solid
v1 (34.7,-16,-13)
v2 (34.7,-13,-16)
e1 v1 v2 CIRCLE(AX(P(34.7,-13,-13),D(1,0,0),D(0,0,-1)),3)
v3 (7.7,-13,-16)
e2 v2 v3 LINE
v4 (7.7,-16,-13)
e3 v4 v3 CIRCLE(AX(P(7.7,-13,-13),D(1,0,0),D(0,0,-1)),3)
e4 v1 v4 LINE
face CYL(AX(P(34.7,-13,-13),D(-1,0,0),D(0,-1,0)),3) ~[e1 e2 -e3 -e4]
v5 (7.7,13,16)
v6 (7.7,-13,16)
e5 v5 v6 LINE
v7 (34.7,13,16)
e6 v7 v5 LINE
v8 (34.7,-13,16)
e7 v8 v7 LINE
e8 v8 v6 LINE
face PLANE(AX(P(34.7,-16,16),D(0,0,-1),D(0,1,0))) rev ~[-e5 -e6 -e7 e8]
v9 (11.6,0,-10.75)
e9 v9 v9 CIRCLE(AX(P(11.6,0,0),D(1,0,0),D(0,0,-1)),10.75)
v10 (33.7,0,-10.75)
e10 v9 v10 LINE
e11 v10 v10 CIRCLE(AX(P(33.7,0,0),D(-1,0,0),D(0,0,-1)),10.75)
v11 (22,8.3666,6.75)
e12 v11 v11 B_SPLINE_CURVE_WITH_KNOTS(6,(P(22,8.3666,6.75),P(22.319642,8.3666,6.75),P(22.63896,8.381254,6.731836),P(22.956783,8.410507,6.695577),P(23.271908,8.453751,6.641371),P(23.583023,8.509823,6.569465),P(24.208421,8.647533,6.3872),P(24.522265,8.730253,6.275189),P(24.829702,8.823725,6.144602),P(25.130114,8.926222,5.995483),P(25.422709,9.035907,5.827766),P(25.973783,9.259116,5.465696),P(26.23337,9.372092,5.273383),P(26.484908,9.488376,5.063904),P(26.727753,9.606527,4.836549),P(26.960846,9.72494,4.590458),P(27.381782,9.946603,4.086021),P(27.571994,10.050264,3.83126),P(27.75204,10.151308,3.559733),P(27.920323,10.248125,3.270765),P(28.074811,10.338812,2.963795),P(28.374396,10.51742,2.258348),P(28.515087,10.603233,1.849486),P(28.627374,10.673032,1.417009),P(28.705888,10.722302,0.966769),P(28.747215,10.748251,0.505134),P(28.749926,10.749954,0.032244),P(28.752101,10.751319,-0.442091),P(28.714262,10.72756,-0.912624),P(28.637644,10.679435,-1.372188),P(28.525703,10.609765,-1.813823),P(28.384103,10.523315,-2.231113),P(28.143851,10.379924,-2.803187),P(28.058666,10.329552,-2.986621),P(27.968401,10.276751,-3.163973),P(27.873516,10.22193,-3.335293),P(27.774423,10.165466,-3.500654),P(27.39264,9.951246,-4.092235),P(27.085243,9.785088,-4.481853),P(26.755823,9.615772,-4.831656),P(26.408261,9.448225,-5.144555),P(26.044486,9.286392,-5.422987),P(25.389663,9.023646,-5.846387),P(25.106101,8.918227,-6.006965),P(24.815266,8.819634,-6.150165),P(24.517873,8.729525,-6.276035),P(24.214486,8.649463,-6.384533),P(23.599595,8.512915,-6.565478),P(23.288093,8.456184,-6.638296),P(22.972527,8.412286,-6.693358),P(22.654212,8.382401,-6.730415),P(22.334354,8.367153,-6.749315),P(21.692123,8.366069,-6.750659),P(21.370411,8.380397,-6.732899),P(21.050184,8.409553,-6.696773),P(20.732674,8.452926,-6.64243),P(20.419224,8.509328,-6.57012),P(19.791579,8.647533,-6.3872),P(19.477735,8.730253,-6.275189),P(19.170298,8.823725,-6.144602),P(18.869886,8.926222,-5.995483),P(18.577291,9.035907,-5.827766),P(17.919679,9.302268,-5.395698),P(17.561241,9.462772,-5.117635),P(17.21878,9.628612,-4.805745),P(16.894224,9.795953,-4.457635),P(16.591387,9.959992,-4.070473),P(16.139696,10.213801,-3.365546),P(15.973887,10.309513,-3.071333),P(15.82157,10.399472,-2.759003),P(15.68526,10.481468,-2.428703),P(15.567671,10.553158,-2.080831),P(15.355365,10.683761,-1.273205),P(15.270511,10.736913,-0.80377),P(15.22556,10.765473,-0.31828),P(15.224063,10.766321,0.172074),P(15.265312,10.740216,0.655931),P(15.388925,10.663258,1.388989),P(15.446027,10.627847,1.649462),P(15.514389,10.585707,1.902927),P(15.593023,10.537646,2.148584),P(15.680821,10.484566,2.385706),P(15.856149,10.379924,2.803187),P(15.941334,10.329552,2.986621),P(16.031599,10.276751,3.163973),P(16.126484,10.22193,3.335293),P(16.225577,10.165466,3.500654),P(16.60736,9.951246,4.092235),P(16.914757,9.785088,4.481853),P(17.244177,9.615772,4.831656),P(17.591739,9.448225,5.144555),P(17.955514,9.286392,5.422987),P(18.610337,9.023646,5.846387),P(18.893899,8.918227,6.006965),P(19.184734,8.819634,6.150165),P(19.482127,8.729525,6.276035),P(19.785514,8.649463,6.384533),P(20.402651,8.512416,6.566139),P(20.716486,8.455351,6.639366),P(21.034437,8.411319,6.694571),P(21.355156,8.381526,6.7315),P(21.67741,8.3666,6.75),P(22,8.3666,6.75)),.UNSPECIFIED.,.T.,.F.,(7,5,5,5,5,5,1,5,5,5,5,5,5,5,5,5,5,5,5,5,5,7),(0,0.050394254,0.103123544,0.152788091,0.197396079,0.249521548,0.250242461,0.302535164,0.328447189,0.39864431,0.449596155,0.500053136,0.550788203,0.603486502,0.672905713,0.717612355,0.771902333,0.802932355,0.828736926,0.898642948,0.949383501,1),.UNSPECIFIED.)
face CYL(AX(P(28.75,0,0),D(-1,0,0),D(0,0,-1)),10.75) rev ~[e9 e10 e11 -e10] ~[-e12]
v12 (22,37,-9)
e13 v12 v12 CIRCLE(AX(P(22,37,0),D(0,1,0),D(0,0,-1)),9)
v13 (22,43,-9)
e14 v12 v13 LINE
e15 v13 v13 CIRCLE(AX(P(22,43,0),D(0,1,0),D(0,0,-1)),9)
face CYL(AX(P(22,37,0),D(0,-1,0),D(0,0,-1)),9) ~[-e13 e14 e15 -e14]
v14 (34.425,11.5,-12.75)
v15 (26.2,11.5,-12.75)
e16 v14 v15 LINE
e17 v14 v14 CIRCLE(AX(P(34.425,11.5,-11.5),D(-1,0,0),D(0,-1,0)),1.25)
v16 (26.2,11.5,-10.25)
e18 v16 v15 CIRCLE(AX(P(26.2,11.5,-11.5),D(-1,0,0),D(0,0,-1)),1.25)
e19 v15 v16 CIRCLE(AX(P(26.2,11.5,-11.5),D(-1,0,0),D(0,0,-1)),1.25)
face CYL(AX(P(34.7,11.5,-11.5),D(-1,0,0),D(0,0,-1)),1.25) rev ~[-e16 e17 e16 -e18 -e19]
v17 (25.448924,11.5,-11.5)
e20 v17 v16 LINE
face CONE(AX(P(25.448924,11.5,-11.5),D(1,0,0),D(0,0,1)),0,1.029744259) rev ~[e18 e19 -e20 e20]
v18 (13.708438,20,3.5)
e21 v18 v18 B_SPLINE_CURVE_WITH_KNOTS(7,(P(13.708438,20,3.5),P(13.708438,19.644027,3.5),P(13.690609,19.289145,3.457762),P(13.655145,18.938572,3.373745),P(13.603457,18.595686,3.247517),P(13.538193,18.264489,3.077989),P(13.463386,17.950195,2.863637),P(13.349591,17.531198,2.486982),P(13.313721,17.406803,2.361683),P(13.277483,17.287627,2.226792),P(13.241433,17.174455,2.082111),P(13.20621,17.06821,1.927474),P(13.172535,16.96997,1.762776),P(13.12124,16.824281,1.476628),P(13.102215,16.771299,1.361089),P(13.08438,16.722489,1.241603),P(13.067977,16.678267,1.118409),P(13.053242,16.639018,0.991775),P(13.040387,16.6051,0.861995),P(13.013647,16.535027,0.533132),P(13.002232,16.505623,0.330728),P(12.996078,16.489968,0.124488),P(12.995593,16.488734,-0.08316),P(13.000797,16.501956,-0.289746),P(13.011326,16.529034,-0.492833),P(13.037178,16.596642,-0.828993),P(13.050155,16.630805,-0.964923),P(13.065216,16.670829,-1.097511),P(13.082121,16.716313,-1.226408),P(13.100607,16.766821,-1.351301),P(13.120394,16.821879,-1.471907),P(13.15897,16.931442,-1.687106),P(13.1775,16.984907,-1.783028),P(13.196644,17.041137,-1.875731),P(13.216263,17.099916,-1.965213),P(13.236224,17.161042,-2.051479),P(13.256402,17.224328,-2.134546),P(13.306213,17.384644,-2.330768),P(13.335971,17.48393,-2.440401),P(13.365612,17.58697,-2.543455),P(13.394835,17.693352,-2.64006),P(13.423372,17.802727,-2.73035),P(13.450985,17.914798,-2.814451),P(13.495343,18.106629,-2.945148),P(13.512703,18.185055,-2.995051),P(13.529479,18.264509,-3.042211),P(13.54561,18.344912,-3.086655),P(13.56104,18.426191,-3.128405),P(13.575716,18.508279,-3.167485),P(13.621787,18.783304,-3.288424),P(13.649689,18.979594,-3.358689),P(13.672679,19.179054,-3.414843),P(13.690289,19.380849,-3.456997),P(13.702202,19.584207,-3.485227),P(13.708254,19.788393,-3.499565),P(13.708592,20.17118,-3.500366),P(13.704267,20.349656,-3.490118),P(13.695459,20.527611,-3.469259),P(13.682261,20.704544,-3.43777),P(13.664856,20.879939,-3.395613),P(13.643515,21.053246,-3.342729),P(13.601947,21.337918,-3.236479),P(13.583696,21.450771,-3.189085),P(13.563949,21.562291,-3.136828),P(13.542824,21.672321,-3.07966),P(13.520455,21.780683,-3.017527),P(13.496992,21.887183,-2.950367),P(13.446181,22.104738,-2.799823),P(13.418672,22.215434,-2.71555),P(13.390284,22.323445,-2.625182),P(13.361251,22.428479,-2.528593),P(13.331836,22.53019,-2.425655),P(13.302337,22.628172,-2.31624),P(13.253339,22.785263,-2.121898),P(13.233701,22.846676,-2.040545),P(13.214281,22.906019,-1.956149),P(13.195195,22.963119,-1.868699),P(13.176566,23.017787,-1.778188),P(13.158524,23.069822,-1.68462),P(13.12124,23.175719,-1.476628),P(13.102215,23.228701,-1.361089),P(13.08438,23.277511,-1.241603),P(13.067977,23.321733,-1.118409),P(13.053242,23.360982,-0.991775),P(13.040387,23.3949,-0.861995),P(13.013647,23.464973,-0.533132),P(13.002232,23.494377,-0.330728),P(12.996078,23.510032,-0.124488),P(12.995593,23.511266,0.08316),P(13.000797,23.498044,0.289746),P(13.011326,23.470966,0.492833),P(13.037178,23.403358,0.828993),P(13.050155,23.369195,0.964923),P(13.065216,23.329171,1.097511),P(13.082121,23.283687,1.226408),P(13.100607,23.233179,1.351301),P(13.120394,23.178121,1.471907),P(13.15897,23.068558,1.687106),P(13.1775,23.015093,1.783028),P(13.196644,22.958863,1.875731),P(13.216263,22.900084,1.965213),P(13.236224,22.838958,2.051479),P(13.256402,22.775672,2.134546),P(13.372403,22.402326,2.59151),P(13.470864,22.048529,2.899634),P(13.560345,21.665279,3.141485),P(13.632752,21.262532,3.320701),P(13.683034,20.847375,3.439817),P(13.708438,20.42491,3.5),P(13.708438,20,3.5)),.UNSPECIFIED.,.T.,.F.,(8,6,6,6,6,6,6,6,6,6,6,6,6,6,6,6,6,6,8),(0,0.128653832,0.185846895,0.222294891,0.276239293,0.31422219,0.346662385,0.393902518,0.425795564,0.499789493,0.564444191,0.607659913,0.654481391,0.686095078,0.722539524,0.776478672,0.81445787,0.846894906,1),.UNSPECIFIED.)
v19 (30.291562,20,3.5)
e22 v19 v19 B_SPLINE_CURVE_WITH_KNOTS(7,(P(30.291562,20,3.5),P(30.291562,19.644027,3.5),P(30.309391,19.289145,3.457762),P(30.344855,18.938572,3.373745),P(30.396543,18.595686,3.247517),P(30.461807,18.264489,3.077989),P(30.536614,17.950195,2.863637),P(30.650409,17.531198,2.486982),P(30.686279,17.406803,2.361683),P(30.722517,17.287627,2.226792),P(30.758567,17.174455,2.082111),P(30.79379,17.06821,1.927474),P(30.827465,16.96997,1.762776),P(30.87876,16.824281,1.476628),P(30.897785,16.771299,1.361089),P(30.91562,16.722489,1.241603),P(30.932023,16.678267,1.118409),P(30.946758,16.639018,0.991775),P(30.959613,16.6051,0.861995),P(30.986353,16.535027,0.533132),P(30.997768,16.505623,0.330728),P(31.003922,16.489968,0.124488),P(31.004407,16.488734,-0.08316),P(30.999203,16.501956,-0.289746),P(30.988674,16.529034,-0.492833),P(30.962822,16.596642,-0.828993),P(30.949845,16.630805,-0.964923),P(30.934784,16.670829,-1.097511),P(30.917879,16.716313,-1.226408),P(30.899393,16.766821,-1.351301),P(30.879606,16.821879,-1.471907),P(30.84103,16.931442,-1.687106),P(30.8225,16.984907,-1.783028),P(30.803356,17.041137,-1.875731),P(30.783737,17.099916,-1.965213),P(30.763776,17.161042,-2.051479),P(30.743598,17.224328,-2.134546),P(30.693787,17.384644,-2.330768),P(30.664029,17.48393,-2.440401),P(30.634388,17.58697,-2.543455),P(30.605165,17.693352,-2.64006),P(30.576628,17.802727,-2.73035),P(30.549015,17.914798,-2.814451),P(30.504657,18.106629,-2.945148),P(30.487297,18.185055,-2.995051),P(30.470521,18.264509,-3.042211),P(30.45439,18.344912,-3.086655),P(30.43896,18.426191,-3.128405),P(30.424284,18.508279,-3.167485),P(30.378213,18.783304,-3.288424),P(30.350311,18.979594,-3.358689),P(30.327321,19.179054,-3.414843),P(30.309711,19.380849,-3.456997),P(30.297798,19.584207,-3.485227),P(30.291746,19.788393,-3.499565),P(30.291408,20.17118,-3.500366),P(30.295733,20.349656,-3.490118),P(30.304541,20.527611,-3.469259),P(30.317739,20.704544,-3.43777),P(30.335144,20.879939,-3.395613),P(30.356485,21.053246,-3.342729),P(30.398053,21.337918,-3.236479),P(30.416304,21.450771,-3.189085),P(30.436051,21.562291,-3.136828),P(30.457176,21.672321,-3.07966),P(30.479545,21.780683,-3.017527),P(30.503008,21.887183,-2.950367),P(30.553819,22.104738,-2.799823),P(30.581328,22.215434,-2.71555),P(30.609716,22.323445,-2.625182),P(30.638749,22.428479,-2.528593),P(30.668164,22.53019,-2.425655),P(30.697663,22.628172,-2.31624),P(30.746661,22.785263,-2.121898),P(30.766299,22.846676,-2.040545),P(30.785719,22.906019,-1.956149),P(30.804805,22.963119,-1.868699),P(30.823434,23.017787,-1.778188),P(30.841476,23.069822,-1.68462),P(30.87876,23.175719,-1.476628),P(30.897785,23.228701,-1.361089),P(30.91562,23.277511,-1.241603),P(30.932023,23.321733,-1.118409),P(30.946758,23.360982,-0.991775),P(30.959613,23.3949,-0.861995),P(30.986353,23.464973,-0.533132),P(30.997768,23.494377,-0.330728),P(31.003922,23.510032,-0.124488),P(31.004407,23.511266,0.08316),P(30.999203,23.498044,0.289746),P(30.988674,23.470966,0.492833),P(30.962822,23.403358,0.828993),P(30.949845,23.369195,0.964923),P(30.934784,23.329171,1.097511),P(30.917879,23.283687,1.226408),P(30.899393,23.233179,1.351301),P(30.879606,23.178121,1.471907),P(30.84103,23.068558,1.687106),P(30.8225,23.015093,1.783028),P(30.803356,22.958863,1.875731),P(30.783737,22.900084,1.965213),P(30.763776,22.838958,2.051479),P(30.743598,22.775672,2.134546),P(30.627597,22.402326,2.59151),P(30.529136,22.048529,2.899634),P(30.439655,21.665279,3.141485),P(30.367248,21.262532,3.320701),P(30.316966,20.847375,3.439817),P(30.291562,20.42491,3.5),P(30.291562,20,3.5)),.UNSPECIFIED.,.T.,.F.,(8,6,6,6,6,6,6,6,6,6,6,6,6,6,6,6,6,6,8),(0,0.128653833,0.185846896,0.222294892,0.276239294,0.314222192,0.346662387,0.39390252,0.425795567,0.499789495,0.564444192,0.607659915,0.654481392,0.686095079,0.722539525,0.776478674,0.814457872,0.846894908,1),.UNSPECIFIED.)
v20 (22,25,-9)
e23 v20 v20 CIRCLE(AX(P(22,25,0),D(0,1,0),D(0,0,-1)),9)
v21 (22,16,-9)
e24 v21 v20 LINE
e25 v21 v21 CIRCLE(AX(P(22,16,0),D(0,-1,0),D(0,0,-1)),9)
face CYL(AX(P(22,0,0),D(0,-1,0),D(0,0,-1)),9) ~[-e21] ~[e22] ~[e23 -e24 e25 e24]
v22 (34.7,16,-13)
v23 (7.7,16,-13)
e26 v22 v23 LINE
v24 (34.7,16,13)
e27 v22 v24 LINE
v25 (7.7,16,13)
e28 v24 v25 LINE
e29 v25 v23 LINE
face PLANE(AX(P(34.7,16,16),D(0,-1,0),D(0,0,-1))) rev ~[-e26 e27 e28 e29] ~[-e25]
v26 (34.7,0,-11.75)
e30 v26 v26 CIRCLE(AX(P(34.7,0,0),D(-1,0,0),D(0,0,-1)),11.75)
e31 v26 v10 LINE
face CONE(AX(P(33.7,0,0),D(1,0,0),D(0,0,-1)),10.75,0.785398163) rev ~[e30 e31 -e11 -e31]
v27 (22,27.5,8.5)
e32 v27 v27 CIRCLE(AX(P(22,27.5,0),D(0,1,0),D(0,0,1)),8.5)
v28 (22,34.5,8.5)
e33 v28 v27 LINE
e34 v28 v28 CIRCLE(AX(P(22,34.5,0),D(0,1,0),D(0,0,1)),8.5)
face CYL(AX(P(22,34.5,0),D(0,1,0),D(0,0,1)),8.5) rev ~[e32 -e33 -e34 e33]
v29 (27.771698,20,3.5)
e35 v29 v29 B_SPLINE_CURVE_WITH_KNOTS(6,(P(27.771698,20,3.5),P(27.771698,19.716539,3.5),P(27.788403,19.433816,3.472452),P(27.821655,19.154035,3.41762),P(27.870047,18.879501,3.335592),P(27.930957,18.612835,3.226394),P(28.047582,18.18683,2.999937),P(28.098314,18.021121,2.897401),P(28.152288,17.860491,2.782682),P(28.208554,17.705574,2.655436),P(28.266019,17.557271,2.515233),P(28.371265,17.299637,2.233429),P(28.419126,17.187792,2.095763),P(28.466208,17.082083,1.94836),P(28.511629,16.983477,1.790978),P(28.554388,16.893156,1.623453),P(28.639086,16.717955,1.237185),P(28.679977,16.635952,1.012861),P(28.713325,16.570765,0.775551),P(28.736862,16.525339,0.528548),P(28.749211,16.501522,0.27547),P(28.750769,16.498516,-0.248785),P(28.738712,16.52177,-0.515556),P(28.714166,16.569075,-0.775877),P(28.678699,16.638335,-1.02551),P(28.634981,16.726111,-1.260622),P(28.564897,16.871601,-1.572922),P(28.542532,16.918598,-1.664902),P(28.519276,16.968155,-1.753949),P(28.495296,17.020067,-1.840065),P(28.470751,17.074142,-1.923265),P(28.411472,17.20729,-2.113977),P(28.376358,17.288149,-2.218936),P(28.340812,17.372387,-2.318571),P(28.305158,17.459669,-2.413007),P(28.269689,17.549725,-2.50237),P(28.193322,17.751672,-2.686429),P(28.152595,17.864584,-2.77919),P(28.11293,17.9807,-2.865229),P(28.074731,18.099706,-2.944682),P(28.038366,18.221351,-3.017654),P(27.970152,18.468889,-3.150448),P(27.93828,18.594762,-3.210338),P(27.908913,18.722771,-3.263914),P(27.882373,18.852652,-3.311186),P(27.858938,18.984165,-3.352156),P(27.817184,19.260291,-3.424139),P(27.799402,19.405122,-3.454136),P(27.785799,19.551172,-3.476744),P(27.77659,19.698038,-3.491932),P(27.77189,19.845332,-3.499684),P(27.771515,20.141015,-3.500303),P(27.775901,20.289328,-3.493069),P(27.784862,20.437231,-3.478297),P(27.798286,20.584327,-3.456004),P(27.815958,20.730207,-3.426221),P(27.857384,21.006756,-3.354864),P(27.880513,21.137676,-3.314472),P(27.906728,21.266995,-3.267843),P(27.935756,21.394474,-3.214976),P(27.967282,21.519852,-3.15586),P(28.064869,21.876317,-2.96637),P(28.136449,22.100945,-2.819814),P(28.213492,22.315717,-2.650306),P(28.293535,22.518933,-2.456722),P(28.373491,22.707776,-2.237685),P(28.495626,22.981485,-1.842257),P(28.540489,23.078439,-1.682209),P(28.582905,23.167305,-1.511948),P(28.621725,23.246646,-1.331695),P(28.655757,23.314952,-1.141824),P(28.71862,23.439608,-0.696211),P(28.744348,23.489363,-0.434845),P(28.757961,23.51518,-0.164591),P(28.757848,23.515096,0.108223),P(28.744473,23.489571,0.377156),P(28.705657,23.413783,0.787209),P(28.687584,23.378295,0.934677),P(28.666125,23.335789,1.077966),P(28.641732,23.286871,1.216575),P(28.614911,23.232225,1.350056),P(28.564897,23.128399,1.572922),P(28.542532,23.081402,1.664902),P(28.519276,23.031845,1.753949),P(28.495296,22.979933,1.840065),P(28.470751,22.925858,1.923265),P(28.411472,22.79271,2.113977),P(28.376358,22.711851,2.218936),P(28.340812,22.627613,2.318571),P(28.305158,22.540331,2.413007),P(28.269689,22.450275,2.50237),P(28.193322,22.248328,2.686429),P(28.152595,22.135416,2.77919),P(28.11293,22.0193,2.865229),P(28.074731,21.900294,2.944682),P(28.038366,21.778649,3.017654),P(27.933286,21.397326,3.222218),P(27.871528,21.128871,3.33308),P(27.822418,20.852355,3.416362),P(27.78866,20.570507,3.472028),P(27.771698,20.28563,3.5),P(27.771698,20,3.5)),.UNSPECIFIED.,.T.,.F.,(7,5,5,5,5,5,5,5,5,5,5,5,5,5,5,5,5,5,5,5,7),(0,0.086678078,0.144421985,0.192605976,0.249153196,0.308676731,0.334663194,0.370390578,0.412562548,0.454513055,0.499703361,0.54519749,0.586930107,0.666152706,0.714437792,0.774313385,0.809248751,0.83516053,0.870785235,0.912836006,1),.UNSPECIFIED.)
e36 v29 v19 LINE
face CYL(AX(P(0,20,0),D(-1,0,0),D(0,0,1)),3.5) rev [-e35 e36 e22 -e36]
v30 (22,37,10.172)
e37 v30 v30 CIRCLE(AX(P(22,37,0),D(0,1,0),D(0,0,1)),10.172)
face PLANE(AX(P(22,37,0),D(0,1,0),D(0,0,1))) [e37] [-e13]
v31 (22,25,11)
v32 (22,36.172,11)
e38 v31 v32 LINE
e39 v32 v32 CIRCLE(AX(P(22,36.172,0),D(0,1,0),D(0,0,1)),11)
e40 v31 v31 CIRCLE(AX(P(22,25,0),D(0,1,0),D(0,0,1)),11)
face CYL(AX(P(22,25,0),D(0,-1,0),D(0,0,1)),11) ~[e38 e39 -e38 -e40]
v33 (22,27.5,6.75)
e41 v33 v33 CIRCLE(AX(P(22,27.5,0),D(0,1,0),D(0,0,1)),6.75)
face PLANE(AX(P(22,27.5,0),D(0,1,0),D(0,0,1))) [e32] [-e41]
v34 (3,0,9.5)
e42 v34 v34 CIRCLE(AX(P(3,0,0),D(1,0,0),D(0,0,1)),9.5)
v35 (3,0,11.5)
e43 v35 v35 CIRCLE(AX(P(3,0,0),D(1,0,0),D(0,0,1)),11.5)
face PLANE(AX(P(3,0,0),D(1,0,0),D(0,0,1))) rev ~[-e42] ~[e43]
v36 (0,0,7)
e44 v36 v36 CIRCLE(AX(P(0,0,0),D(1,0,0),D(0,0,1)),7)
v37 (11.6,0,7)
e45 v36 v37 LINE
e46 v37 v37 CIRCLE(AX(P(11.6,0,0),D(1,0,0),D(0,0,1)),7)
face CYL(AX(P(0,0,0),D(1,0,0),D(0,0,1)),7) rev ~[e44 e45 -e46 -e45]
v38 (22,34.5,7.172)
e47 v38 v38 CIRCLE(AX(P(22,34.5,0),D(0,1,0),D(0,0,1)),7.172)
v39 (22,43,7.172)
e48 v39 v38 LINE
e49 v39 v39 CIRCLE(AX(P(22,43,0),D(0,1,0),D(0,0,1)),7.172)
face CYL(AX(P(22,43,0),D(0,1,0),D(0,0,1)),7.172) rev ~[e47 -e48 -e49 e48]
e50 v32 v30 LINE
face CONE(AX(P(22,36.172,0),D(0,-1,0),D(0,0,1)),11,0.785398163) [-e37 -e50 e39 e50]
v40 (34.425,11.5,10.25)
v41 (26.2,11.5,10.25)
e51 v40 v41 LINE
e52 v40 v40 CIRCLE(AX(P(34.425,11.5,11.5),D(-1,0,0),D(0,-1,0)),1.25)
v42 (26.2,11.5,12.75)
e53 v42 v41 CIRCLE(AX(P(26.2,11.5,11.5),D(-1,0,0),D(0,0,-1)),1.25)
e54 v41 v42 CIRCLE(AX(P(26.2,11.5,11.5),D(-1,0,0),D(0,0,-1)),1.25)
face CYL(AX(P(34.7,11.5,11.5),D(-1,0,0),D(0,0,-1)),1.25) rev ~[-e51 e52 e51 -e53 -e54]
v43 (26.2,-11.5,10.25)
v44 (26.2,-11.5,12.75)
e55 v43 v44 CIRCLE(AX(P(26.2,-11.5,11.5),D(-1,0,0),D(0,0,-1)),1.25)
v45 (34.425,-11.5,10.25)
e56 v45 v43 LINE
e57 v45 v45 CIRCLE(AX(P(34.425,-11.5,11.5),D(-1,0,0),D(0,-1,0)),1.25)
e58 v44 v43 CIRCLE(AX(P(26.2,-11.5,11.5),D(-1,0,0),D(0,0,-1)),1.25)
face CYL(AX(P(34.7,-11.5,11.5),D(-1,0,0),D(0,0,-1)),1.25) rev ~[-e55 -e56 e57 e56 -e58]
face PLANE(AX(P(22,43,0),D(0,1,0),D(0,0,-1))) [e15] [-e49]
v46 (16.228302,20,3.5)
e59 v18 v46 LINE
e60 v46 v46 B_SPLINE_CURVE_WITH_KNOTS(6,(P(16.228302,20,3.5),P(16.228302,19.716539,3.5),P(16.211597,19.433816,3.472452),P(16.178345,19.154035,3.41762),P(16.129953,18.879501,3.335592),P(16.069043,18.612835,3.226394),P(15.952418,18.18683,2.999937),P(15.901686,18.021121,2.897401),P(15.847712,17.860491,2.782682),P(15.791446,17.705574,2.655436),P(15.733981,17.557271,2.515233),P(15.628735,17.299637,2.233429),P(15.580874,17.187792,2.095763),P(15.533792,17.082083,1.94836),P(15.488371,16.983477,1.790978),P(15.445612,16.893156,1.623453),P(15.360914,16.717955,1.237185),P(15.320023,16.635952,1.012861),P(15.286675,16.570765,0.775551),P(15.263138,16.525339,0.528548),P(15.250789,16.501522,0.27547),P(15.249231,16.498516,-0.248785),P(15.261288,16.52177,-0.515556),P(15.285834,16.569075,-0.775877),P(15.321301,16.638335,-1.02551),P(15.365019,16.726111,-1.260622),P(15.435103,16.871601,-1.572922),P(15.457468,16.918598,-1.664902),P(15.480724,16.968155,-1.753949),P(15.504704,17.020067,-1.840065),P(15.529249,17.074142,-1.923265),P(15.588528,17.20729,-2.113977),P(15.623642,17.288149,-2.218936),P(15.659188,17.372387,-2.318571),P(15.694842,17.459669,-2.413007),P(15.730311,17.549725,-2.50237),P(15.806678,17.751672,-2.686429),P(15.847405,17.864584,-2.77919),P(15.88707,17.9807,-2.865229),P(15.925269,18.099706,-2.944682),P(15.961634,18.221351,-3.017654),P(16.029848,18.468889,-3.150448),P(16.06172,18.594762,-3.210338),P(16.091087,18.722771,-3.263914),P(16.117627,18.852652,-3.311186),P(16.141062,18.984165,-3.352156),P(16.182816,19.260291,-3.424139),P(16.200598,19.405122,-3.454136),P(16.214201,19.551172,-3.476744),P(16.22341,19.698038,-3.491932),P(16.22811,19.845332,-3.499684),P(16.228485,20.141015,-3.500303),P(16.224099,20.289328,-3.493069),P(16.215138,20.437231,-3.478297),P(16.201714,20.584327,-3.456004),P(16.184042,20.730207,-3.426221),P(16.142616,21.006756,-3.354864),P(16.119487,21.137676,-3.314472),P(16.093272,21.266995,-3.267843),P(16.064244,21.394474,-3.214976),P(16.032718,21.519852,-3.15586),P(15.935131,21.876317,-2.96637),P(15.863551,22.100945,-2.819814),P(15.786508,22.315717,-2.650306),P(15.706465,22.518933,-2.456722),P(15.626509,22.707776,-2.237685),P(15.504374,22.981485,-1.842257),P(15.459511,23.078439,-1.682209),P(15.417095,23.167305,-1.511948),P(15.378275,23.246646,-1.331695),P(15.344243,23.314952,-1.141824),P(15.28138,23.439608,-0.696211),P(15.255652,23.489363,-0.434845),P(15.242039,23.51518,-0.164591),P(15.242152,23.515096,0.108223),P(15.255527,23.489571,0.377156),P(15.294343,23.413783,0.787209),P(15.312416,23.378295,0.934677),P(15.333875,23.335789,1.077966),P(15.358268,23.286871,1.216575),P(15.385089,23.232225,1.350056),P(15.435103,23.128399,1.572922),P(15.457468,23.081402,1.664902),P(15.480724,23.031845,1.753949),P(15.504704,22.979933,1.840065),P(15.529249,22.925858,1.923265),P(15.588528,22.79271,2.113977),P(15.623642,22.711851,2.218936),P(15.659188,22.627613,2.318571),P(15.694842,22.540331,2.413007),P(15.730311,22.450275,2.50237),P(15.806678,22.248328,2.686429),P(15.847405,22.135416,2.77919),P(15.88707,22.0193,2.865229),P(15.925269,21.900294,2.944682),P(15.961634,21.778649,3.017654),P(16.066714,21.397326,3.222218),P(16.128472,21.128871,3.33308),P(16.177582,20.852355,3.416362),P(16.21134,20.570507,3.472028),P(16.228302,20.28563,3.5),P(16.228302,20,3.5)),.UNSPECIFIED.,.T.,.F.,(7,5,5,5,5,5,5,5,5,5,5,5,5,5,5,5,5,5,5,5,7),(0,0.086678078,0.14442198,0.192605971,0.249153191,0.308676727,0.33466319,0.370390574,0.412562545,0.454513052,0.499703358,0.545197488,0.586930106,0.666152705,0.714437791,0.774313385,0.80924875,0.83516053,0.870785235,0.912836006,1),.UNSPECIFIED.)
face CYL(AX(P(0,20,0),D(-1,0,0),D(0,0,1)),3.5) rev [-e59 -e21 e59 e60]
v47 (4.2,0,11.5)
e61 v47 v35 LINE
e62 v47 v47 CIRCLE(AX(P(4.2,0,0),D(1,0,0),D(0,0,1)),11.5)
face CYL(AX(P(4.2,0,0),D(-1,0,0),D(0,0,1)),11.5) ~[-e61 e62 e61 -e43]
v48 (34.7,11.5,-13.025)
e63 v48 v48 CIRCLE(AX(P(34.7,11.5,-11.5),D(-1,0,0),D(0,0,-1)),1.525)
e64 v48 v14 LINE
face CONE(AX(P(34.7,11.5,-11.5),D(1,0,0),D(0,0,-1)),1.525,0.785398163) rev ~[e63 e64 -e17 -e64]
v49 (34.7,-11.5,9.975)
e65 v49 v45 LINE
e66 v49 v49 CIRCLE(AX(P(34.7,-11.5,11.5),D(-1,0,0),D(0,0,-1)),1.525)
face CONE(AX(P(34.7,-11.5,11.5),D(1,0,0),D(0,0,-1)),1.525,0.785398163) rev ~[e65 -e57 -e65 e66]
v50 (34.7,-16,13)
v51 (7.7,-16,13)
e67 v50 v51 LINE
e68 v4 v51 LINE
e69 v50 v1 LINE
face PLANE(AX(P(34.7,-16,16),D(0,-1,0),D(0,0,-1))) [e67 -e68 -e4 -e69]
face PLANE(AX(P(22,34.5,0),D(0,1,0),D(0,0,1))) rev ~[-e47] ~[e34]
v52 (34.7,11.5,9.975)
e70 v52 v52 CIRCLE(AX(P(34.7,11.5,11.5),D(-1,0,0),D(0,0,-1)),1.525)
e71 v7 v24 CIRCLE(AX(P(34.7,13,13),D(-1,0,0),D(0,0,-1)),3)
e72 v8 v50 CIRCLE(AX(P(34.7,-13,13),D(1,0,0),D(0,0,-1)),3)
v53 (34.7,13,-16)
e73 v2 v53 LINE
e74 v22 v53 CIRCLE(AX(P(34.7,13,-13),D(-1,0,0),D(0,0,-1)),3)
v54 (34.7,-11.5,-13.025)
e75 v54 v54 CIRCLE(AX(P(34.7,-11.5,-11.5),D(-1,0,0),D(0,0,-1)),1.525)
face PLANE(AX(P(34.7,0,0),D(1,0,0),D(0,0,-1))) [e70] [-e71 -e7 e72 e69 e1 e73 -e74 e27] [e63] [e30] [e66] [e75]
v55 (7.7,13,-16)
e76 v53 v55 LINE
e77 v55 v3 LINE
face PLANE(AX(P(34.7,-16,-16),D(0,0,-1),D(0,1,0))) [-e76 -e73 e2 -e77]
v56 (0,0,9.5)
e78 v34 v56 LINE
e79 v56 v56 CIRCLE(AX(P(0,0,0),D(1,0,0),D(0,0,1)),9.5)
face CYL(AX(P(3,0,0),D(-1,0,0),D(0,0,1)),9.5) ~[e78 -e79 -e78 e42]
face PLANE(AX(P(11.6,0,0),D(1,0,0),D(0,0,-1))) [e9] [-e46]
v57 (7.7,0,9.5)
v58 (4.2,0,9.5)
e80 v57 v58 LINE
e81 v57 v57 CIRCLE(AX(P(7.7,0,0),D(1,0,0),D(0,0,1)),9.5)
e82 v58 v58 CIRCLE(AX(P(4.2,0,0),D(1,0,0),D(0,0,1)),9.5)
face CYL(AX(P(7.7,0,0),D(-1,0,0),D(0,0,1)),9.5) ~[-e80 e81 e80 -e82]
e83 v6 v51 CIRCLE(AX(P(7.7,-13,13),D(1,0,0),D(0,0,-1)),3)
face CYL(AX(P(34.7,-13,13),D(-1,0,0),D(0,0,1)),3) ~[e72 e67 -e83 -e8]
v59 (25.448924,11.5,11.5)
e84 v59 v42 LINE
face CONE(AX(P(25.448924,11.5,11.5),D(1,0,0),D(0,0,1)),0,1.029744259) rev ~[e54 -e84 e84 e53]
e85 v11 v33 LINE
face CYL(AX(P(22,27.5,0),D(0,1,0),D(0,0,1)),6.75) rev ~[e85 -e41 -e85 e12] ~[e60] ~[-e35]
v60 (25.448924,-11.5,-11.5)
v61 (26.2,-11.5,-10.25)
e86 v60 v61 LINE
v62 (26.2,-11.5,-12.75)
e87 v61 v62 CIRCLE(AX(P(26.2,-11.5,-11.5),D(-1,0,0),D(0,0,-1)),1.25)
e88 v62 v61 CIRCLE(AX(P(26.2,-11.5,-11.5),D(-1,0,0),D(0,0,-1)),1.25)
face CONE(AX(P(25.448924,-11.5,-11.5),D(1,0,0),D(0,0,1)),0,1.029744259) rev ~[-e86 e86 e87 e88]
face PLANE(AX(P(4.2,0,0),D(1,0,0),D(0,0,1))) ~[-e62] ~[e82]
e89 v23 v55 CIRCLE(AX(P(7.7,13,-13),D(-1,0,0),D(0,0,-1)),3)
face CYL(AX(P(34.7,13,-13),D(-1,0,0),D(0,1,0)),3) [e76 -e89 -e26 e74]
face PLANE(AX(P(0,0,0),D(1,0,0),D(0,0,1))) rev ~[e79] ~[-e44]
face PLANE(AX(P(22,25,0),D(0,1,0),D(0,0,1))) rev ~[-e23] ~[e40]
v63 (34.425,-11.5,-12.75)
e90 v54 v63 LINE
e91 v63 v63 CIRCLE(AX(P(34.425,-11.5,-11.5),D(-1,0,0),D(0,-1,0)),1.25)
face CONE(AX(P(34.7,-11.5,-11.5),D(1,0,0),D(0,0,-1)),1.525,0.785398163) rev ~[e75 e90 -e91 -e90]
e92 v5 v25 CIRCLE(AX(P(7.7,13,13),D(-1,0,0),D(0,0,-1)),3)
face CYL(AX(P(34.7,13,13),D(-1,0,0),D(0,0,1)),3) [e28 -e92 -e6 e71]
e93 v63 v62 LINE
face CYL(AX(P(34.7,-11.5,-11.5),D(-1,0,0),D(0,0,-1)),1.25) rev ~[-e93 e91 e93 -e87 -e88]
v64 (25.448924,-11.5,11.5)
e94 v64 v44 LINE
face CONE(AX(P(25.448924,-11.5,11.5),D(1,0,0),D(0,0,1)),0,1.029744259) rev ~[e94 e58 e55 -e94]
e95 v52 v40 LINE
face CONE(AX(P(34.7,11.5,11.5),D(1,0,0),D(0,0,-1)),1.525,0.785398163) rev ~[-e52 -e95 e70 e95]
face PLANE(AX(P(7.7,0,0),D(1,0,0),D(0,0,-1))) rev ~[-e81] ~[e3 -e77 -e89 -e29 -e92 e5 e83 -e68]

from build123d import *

# Parameters (mm, degrees)
SKETCH_2_R               = 9
EXTRUDE_1_DEPTH          = 25
SKETCH_3_R               = 11
EXTRUDE_2_DEPTH          = 12
SKETCH_4_R               = 9
EXTRUDE_3_DEPTH          = 6
SKETCH_5_R               = 10.75
CUT_EXTRUDE_1_DEPTH      = 23.1
CUT_EXTRUDE_START        = -8.5
SKETCH_6_R               = 8.5
CUT_EXTRUDE_2_DEPTH      = 7
CUT_EXTRUDE_3_REACH      = 59.899
CUT_EXTRUDE_3_END_RADIUS = 10.75
SKETCH_8_R               = 6.75
SKETCH_9_R               = 3.5
CUT_EXTRUDE_4_DEPTH      = 58.524690439
SKETCH_10_R              = 10.75
EXTRUDE_4_DEPTH          = 5.95
CHAMFER_1_SIZE           = 0.828
SKETCH_12_W              = 32
SKETCH_12_H              = 32
SKETCH_12_R              = 15
EXTRUDE_5_DEPTH          = 27
CUT_EXTRUDE_5_REACH      = 51.841
SKETCH_13_R              = 6.75
CUT_EXTRUDE_6_REACH      = 72.293
SKETCH_14_R              = 7.172
CUT_EXTRUDE_11_REACH     = 56.144
SKETCH_18_R              = 10.75
M3X0_51_D                = 2.5
M3X0_51_DEPTH            = 8.5
M3X0_51_CSINK_D          = 3.05
M3X0_51_CSINK_ANGLE      = 90
M3X0_51_TIP              = 0.751075774
FILLET_1_R               = 3
CHAMFER_2_SIZE           = 1


with BuildPart() as part:
    # Эскиз1 → Повернуть1 (revolve)
    with BuildSketch(Plane.XY, mode=Mode.PRIVATE) as revolve_1_sk:
        Polygon((0, -7), (11.6, -7), (11.6, 0), (34.7, 0), (34.7, -10.5), (34.7, -16), (7.7, -16), (7.7, -9.5), (4.2, -9.5), (4.2, -11.5), (3, -11.5), (3, -9.5), (0, -9.5), align=None)
    revolve(revolve_1_sk.sketch.rotate(Axis((0, 0, 0), (1, 0, 0)), 270), axis=Axis((0, 0, 0), (1, 0, 0)))

    # Эскиз2 → Бобышка-Вытянуть1 (add)
    with BuildSketch(Plane(origin=(0, 0, 0), x_dir=(1, 0, 0), z_dir=(0, 1, 0))):
        with Locations(Location((22, 0, 0), (0, 0, 90))):
            Circle(SKETCH_2_R)
    extrude(amount=EXTRUDE_1_DEPTH)

    # Эскиз3 → Бобышка-Вытянуть2 (add)
    with BuildSketch(Plane(origin=(0, 25, 0), x_dir=(1, 0, 0), z_dir=(0, 1, 0))):
        with Locations(Location((22, 0, 0), (0, 0, 270))):
            Circle(SKETCH_3_R)
    extrude(amount=EXTRUDE_2_DEPTH)

    # Эскиз4 → Бобышка-Вытянуть3 (add)
    with BuildSketch(Plane(origin=(0, 37, 0), x_dir=(1, 0, 0), z_dir=(0, 1, 0))):
        with Locations(Location((22, 0, 0), (0, 0, 90))):
            Circle(SKETCH_4_R)
    extrude(amount=EXTRUDE_3_DEPTH)

    # Эскиз5 → Вырез-Вытянуть1 (cut)
    with BuildSketch(Plane(origin=(34.7, 0, 0), x_dir=(0, 0, -1), z_dir=(1, 0, 0))):
        Circle(SKETCH_5_R)
    extrude(amount=-CUT_EXTRUDE_1_DEPTH, mode=Mode.SUBTRACT)

    # Эскиз6 → Вырез-Вытянуть2 (cut)
    with BuildSketch(Plane(origin=(0, 43, 0), x_dir=(1, 0, 0), z_dir=(0, 1, 0)).offset(CUT_EXTRUDE_START)):
        with Locations(Location((22, 0, 0), (0, 0, 270))):
            Circle(SKETCH_6_R)
    extrude(amount=-CUT_EXTRUDE_2_DEPTH, mode=Mode.SUBTRACT)

    # Вырез-Вытянуть3: up to this cylinder (the profile starts outside it)
    cut_extrude_3_end = Plane(origin=(22, 0, 0), z_dir=(1, 0, 0)) * Cylinder(CUT_EXTRUDE_3_END_RADIUS, 142.298, mode=Mode.PRIVATE)
    # Эскиз8 → Вырез-Вытянуть3 (cut, up to the surface)
    with BuildSketch(Plane(origin=(0, 27.5, 0), x_dir=(1, 0, 0), z_dir=(0, 1, 0)), mode=Mode.PRIVATE) as cut_extrude_3_sk1:
        with Locations(Location((22, 0, 0), (0, 0, 270))):
            Circle(SKETCH_8_R)
    cut_extrude_3_tool1 = extrude(cut_extrude_3_sk1.sketch, amount=-CUT_EXTRUDE_3_REACH, mode=Mode.PRIVATE) - cut_extrude_3_end
    add(cut_extrude_3_tool1.solids().sort_by_distance((22, 27.5, 0))[0], mode=Mode.SUBTRACT)

    # Эскиз9 → Вырез-Вытянуть4 (cut, through all)
    with BuildSketch(Plane(origin=(0, 0, 0), x_dir=(0, 0, -1), z_dir=(1, 0, 0))):
        with Locations(Location((0, 20, 0), (0, 0, 180))):
            Circle(SKETCH_9_R)
    extrude(amount=CUT_EXTRUDE_4_DEPTH, mode=Mode.SUBTRACT)

    # Эскиз10 → Бобышка-Вытянуть4 (add)
    with BuildSketch(Plane(origin=(34.7, 0, 0), x_dir=(0, 0, -1), z_dir=(1, 0, 0))):
        with Locations(Location((0, 0, 0), (0, 0, 90))):
            Circle(SKETCH_10_R)
    extrude(amount=-EXTRUDE_4_DEPTH)

    # Фаска1
    chamfer_1_edges = [part.edges().sort_by_distance(p)[0] for p in [
        (22, 37, -11),
    ]]
    chamfer(chamfer_1_edges, length=CHAMFER_1_SIZE)

    # Эскиз12 → Бобышка-Вытянуть5 (add)
    with BuildSketch(Plane(origin=(34.7, 0, 0), x_dir=(0, 0, -1), z_dir=(1, 0, 0))):
        Rectangle(SKETCH_12_W, SKETCH_12_H)
        Circle(SKETCH_12_R, mode=Mode.SUBTRACT)
    extrude(amount=-EXTRUDE_5_DEPTH)

    # Эскиз13 → Вырез-Вытянуть5 (cut, up to next)
    with BuildSketch(Plane(origin=(0, 16, 0), x_dir=(1, 0, 0), z_dir=(0, 1, 0)), mode=Mode.PRIVATE) as cut_extrude_5_sk1:
        with Locations(Location((22, 0, 0), (0, 0, 270))):
            Circle(SKETCH_13_R)
    cut_extrude_5_tool1 = extrude(cut_extrude_5_sk1.sketch, amount=-CUT_EXTRUDE_5_REACH, mode=Mode.PRIVATE) & part.part
    add(cut_extrude_5_tool1.solids().sort_by_distance((22, 16, 0))[0], mode=Mode.SUBTRACT)

    # Эскиз14 → Вырез-Вытянуть6 (cut, up to next)
    with BuildSketch(Plane(origin=(0, 43, 0), x_dir=(1, 0, 0), z_dir=(0, 1, 0)), mode=Mode.PRIVATE) as cut_extrude_6_sk1:
        with Locations(Location((22, 0, 0), (0, 0, 270))):
            Circle(SKETCH_14_R)
    cut_extrude_6_tool1 = extrude(cut_extrude_6_sk1.sketch, amount=-CUT_EXTRUDE_6_REACH, mode=Mode.PRIVATE) & part.part
    add(cut_extrude_6_tool1.solids().sort_by_distance((22, 43, 0))[0], mode=Mode.SUBTRACT)

    # Эскиз18 → Вырез-Вытянуть11 (cut, up to next)
    with BuildSketch(Plane.ZY.offset(-28.75), mode=Mode.PRIVATE) as cut_extrude_11_sk1:
        with Locations(Location((0, 0, 0), (0, 0, 180))):
            Circle(SKETCH_18_R)
    cut_extrude_11_tool1 = extrude(cut_extrude_11_sk1.sketch, amount=-CUT_EXTRUDE_11_REACH, mode=Mode.PRIVATE) & part.part
    add(cut_extrude_11_tool1.solids().sort_by_distance((28.75, 0, 0))[0], mode=Mode.SUBTRACT)

    # Отверстие обработанное метчиком M3x0.51
    with Locations(Plane(origin=(34.7, 11.5, 11.5), x_dir=(0, 0, 1), z_dir=(1, 0, 0))):
        with Locations((0, 0), (0, 23), (-23, 23), (-23, 0)):
            CounterSinkHole(M3X0_51_D / 2, M3X0_51_CSINK_D / 2, depth=M3X0_51_DEPTH, counter_sink_angle=M3X0_51_CSINK_ANGLE)
            with Locations((0, 0, -(M3X0_51_DEPTH + M3X0_51_TIP / 2))):  # 118° drill point
                Cone(0, M3X0_51_D / 2, M3X0_51_TIP, mode=Mode.SUBTRACT)

    # Скругление1
    fillet_1_edges = [part.edges().sort_by_distance(p)[0] for p in [
        (21.2, 16, -16),
        (21.2, -16, -16),
        (21.2, -16, 16),
        (21.2, 16, 16),
    ]]
    fillet(fillet_1_edges, radius=FILLET_1_R)

    # Фаска2
    chamfer_2_edges = [part.edges().sort_by_distance(p)[0] for p in [
        (34.7, 0, 10.75),
    ]]
    chamfer(chamfer_2_edges, length=CHAMFER_2_SIZE)


solid = part.part
